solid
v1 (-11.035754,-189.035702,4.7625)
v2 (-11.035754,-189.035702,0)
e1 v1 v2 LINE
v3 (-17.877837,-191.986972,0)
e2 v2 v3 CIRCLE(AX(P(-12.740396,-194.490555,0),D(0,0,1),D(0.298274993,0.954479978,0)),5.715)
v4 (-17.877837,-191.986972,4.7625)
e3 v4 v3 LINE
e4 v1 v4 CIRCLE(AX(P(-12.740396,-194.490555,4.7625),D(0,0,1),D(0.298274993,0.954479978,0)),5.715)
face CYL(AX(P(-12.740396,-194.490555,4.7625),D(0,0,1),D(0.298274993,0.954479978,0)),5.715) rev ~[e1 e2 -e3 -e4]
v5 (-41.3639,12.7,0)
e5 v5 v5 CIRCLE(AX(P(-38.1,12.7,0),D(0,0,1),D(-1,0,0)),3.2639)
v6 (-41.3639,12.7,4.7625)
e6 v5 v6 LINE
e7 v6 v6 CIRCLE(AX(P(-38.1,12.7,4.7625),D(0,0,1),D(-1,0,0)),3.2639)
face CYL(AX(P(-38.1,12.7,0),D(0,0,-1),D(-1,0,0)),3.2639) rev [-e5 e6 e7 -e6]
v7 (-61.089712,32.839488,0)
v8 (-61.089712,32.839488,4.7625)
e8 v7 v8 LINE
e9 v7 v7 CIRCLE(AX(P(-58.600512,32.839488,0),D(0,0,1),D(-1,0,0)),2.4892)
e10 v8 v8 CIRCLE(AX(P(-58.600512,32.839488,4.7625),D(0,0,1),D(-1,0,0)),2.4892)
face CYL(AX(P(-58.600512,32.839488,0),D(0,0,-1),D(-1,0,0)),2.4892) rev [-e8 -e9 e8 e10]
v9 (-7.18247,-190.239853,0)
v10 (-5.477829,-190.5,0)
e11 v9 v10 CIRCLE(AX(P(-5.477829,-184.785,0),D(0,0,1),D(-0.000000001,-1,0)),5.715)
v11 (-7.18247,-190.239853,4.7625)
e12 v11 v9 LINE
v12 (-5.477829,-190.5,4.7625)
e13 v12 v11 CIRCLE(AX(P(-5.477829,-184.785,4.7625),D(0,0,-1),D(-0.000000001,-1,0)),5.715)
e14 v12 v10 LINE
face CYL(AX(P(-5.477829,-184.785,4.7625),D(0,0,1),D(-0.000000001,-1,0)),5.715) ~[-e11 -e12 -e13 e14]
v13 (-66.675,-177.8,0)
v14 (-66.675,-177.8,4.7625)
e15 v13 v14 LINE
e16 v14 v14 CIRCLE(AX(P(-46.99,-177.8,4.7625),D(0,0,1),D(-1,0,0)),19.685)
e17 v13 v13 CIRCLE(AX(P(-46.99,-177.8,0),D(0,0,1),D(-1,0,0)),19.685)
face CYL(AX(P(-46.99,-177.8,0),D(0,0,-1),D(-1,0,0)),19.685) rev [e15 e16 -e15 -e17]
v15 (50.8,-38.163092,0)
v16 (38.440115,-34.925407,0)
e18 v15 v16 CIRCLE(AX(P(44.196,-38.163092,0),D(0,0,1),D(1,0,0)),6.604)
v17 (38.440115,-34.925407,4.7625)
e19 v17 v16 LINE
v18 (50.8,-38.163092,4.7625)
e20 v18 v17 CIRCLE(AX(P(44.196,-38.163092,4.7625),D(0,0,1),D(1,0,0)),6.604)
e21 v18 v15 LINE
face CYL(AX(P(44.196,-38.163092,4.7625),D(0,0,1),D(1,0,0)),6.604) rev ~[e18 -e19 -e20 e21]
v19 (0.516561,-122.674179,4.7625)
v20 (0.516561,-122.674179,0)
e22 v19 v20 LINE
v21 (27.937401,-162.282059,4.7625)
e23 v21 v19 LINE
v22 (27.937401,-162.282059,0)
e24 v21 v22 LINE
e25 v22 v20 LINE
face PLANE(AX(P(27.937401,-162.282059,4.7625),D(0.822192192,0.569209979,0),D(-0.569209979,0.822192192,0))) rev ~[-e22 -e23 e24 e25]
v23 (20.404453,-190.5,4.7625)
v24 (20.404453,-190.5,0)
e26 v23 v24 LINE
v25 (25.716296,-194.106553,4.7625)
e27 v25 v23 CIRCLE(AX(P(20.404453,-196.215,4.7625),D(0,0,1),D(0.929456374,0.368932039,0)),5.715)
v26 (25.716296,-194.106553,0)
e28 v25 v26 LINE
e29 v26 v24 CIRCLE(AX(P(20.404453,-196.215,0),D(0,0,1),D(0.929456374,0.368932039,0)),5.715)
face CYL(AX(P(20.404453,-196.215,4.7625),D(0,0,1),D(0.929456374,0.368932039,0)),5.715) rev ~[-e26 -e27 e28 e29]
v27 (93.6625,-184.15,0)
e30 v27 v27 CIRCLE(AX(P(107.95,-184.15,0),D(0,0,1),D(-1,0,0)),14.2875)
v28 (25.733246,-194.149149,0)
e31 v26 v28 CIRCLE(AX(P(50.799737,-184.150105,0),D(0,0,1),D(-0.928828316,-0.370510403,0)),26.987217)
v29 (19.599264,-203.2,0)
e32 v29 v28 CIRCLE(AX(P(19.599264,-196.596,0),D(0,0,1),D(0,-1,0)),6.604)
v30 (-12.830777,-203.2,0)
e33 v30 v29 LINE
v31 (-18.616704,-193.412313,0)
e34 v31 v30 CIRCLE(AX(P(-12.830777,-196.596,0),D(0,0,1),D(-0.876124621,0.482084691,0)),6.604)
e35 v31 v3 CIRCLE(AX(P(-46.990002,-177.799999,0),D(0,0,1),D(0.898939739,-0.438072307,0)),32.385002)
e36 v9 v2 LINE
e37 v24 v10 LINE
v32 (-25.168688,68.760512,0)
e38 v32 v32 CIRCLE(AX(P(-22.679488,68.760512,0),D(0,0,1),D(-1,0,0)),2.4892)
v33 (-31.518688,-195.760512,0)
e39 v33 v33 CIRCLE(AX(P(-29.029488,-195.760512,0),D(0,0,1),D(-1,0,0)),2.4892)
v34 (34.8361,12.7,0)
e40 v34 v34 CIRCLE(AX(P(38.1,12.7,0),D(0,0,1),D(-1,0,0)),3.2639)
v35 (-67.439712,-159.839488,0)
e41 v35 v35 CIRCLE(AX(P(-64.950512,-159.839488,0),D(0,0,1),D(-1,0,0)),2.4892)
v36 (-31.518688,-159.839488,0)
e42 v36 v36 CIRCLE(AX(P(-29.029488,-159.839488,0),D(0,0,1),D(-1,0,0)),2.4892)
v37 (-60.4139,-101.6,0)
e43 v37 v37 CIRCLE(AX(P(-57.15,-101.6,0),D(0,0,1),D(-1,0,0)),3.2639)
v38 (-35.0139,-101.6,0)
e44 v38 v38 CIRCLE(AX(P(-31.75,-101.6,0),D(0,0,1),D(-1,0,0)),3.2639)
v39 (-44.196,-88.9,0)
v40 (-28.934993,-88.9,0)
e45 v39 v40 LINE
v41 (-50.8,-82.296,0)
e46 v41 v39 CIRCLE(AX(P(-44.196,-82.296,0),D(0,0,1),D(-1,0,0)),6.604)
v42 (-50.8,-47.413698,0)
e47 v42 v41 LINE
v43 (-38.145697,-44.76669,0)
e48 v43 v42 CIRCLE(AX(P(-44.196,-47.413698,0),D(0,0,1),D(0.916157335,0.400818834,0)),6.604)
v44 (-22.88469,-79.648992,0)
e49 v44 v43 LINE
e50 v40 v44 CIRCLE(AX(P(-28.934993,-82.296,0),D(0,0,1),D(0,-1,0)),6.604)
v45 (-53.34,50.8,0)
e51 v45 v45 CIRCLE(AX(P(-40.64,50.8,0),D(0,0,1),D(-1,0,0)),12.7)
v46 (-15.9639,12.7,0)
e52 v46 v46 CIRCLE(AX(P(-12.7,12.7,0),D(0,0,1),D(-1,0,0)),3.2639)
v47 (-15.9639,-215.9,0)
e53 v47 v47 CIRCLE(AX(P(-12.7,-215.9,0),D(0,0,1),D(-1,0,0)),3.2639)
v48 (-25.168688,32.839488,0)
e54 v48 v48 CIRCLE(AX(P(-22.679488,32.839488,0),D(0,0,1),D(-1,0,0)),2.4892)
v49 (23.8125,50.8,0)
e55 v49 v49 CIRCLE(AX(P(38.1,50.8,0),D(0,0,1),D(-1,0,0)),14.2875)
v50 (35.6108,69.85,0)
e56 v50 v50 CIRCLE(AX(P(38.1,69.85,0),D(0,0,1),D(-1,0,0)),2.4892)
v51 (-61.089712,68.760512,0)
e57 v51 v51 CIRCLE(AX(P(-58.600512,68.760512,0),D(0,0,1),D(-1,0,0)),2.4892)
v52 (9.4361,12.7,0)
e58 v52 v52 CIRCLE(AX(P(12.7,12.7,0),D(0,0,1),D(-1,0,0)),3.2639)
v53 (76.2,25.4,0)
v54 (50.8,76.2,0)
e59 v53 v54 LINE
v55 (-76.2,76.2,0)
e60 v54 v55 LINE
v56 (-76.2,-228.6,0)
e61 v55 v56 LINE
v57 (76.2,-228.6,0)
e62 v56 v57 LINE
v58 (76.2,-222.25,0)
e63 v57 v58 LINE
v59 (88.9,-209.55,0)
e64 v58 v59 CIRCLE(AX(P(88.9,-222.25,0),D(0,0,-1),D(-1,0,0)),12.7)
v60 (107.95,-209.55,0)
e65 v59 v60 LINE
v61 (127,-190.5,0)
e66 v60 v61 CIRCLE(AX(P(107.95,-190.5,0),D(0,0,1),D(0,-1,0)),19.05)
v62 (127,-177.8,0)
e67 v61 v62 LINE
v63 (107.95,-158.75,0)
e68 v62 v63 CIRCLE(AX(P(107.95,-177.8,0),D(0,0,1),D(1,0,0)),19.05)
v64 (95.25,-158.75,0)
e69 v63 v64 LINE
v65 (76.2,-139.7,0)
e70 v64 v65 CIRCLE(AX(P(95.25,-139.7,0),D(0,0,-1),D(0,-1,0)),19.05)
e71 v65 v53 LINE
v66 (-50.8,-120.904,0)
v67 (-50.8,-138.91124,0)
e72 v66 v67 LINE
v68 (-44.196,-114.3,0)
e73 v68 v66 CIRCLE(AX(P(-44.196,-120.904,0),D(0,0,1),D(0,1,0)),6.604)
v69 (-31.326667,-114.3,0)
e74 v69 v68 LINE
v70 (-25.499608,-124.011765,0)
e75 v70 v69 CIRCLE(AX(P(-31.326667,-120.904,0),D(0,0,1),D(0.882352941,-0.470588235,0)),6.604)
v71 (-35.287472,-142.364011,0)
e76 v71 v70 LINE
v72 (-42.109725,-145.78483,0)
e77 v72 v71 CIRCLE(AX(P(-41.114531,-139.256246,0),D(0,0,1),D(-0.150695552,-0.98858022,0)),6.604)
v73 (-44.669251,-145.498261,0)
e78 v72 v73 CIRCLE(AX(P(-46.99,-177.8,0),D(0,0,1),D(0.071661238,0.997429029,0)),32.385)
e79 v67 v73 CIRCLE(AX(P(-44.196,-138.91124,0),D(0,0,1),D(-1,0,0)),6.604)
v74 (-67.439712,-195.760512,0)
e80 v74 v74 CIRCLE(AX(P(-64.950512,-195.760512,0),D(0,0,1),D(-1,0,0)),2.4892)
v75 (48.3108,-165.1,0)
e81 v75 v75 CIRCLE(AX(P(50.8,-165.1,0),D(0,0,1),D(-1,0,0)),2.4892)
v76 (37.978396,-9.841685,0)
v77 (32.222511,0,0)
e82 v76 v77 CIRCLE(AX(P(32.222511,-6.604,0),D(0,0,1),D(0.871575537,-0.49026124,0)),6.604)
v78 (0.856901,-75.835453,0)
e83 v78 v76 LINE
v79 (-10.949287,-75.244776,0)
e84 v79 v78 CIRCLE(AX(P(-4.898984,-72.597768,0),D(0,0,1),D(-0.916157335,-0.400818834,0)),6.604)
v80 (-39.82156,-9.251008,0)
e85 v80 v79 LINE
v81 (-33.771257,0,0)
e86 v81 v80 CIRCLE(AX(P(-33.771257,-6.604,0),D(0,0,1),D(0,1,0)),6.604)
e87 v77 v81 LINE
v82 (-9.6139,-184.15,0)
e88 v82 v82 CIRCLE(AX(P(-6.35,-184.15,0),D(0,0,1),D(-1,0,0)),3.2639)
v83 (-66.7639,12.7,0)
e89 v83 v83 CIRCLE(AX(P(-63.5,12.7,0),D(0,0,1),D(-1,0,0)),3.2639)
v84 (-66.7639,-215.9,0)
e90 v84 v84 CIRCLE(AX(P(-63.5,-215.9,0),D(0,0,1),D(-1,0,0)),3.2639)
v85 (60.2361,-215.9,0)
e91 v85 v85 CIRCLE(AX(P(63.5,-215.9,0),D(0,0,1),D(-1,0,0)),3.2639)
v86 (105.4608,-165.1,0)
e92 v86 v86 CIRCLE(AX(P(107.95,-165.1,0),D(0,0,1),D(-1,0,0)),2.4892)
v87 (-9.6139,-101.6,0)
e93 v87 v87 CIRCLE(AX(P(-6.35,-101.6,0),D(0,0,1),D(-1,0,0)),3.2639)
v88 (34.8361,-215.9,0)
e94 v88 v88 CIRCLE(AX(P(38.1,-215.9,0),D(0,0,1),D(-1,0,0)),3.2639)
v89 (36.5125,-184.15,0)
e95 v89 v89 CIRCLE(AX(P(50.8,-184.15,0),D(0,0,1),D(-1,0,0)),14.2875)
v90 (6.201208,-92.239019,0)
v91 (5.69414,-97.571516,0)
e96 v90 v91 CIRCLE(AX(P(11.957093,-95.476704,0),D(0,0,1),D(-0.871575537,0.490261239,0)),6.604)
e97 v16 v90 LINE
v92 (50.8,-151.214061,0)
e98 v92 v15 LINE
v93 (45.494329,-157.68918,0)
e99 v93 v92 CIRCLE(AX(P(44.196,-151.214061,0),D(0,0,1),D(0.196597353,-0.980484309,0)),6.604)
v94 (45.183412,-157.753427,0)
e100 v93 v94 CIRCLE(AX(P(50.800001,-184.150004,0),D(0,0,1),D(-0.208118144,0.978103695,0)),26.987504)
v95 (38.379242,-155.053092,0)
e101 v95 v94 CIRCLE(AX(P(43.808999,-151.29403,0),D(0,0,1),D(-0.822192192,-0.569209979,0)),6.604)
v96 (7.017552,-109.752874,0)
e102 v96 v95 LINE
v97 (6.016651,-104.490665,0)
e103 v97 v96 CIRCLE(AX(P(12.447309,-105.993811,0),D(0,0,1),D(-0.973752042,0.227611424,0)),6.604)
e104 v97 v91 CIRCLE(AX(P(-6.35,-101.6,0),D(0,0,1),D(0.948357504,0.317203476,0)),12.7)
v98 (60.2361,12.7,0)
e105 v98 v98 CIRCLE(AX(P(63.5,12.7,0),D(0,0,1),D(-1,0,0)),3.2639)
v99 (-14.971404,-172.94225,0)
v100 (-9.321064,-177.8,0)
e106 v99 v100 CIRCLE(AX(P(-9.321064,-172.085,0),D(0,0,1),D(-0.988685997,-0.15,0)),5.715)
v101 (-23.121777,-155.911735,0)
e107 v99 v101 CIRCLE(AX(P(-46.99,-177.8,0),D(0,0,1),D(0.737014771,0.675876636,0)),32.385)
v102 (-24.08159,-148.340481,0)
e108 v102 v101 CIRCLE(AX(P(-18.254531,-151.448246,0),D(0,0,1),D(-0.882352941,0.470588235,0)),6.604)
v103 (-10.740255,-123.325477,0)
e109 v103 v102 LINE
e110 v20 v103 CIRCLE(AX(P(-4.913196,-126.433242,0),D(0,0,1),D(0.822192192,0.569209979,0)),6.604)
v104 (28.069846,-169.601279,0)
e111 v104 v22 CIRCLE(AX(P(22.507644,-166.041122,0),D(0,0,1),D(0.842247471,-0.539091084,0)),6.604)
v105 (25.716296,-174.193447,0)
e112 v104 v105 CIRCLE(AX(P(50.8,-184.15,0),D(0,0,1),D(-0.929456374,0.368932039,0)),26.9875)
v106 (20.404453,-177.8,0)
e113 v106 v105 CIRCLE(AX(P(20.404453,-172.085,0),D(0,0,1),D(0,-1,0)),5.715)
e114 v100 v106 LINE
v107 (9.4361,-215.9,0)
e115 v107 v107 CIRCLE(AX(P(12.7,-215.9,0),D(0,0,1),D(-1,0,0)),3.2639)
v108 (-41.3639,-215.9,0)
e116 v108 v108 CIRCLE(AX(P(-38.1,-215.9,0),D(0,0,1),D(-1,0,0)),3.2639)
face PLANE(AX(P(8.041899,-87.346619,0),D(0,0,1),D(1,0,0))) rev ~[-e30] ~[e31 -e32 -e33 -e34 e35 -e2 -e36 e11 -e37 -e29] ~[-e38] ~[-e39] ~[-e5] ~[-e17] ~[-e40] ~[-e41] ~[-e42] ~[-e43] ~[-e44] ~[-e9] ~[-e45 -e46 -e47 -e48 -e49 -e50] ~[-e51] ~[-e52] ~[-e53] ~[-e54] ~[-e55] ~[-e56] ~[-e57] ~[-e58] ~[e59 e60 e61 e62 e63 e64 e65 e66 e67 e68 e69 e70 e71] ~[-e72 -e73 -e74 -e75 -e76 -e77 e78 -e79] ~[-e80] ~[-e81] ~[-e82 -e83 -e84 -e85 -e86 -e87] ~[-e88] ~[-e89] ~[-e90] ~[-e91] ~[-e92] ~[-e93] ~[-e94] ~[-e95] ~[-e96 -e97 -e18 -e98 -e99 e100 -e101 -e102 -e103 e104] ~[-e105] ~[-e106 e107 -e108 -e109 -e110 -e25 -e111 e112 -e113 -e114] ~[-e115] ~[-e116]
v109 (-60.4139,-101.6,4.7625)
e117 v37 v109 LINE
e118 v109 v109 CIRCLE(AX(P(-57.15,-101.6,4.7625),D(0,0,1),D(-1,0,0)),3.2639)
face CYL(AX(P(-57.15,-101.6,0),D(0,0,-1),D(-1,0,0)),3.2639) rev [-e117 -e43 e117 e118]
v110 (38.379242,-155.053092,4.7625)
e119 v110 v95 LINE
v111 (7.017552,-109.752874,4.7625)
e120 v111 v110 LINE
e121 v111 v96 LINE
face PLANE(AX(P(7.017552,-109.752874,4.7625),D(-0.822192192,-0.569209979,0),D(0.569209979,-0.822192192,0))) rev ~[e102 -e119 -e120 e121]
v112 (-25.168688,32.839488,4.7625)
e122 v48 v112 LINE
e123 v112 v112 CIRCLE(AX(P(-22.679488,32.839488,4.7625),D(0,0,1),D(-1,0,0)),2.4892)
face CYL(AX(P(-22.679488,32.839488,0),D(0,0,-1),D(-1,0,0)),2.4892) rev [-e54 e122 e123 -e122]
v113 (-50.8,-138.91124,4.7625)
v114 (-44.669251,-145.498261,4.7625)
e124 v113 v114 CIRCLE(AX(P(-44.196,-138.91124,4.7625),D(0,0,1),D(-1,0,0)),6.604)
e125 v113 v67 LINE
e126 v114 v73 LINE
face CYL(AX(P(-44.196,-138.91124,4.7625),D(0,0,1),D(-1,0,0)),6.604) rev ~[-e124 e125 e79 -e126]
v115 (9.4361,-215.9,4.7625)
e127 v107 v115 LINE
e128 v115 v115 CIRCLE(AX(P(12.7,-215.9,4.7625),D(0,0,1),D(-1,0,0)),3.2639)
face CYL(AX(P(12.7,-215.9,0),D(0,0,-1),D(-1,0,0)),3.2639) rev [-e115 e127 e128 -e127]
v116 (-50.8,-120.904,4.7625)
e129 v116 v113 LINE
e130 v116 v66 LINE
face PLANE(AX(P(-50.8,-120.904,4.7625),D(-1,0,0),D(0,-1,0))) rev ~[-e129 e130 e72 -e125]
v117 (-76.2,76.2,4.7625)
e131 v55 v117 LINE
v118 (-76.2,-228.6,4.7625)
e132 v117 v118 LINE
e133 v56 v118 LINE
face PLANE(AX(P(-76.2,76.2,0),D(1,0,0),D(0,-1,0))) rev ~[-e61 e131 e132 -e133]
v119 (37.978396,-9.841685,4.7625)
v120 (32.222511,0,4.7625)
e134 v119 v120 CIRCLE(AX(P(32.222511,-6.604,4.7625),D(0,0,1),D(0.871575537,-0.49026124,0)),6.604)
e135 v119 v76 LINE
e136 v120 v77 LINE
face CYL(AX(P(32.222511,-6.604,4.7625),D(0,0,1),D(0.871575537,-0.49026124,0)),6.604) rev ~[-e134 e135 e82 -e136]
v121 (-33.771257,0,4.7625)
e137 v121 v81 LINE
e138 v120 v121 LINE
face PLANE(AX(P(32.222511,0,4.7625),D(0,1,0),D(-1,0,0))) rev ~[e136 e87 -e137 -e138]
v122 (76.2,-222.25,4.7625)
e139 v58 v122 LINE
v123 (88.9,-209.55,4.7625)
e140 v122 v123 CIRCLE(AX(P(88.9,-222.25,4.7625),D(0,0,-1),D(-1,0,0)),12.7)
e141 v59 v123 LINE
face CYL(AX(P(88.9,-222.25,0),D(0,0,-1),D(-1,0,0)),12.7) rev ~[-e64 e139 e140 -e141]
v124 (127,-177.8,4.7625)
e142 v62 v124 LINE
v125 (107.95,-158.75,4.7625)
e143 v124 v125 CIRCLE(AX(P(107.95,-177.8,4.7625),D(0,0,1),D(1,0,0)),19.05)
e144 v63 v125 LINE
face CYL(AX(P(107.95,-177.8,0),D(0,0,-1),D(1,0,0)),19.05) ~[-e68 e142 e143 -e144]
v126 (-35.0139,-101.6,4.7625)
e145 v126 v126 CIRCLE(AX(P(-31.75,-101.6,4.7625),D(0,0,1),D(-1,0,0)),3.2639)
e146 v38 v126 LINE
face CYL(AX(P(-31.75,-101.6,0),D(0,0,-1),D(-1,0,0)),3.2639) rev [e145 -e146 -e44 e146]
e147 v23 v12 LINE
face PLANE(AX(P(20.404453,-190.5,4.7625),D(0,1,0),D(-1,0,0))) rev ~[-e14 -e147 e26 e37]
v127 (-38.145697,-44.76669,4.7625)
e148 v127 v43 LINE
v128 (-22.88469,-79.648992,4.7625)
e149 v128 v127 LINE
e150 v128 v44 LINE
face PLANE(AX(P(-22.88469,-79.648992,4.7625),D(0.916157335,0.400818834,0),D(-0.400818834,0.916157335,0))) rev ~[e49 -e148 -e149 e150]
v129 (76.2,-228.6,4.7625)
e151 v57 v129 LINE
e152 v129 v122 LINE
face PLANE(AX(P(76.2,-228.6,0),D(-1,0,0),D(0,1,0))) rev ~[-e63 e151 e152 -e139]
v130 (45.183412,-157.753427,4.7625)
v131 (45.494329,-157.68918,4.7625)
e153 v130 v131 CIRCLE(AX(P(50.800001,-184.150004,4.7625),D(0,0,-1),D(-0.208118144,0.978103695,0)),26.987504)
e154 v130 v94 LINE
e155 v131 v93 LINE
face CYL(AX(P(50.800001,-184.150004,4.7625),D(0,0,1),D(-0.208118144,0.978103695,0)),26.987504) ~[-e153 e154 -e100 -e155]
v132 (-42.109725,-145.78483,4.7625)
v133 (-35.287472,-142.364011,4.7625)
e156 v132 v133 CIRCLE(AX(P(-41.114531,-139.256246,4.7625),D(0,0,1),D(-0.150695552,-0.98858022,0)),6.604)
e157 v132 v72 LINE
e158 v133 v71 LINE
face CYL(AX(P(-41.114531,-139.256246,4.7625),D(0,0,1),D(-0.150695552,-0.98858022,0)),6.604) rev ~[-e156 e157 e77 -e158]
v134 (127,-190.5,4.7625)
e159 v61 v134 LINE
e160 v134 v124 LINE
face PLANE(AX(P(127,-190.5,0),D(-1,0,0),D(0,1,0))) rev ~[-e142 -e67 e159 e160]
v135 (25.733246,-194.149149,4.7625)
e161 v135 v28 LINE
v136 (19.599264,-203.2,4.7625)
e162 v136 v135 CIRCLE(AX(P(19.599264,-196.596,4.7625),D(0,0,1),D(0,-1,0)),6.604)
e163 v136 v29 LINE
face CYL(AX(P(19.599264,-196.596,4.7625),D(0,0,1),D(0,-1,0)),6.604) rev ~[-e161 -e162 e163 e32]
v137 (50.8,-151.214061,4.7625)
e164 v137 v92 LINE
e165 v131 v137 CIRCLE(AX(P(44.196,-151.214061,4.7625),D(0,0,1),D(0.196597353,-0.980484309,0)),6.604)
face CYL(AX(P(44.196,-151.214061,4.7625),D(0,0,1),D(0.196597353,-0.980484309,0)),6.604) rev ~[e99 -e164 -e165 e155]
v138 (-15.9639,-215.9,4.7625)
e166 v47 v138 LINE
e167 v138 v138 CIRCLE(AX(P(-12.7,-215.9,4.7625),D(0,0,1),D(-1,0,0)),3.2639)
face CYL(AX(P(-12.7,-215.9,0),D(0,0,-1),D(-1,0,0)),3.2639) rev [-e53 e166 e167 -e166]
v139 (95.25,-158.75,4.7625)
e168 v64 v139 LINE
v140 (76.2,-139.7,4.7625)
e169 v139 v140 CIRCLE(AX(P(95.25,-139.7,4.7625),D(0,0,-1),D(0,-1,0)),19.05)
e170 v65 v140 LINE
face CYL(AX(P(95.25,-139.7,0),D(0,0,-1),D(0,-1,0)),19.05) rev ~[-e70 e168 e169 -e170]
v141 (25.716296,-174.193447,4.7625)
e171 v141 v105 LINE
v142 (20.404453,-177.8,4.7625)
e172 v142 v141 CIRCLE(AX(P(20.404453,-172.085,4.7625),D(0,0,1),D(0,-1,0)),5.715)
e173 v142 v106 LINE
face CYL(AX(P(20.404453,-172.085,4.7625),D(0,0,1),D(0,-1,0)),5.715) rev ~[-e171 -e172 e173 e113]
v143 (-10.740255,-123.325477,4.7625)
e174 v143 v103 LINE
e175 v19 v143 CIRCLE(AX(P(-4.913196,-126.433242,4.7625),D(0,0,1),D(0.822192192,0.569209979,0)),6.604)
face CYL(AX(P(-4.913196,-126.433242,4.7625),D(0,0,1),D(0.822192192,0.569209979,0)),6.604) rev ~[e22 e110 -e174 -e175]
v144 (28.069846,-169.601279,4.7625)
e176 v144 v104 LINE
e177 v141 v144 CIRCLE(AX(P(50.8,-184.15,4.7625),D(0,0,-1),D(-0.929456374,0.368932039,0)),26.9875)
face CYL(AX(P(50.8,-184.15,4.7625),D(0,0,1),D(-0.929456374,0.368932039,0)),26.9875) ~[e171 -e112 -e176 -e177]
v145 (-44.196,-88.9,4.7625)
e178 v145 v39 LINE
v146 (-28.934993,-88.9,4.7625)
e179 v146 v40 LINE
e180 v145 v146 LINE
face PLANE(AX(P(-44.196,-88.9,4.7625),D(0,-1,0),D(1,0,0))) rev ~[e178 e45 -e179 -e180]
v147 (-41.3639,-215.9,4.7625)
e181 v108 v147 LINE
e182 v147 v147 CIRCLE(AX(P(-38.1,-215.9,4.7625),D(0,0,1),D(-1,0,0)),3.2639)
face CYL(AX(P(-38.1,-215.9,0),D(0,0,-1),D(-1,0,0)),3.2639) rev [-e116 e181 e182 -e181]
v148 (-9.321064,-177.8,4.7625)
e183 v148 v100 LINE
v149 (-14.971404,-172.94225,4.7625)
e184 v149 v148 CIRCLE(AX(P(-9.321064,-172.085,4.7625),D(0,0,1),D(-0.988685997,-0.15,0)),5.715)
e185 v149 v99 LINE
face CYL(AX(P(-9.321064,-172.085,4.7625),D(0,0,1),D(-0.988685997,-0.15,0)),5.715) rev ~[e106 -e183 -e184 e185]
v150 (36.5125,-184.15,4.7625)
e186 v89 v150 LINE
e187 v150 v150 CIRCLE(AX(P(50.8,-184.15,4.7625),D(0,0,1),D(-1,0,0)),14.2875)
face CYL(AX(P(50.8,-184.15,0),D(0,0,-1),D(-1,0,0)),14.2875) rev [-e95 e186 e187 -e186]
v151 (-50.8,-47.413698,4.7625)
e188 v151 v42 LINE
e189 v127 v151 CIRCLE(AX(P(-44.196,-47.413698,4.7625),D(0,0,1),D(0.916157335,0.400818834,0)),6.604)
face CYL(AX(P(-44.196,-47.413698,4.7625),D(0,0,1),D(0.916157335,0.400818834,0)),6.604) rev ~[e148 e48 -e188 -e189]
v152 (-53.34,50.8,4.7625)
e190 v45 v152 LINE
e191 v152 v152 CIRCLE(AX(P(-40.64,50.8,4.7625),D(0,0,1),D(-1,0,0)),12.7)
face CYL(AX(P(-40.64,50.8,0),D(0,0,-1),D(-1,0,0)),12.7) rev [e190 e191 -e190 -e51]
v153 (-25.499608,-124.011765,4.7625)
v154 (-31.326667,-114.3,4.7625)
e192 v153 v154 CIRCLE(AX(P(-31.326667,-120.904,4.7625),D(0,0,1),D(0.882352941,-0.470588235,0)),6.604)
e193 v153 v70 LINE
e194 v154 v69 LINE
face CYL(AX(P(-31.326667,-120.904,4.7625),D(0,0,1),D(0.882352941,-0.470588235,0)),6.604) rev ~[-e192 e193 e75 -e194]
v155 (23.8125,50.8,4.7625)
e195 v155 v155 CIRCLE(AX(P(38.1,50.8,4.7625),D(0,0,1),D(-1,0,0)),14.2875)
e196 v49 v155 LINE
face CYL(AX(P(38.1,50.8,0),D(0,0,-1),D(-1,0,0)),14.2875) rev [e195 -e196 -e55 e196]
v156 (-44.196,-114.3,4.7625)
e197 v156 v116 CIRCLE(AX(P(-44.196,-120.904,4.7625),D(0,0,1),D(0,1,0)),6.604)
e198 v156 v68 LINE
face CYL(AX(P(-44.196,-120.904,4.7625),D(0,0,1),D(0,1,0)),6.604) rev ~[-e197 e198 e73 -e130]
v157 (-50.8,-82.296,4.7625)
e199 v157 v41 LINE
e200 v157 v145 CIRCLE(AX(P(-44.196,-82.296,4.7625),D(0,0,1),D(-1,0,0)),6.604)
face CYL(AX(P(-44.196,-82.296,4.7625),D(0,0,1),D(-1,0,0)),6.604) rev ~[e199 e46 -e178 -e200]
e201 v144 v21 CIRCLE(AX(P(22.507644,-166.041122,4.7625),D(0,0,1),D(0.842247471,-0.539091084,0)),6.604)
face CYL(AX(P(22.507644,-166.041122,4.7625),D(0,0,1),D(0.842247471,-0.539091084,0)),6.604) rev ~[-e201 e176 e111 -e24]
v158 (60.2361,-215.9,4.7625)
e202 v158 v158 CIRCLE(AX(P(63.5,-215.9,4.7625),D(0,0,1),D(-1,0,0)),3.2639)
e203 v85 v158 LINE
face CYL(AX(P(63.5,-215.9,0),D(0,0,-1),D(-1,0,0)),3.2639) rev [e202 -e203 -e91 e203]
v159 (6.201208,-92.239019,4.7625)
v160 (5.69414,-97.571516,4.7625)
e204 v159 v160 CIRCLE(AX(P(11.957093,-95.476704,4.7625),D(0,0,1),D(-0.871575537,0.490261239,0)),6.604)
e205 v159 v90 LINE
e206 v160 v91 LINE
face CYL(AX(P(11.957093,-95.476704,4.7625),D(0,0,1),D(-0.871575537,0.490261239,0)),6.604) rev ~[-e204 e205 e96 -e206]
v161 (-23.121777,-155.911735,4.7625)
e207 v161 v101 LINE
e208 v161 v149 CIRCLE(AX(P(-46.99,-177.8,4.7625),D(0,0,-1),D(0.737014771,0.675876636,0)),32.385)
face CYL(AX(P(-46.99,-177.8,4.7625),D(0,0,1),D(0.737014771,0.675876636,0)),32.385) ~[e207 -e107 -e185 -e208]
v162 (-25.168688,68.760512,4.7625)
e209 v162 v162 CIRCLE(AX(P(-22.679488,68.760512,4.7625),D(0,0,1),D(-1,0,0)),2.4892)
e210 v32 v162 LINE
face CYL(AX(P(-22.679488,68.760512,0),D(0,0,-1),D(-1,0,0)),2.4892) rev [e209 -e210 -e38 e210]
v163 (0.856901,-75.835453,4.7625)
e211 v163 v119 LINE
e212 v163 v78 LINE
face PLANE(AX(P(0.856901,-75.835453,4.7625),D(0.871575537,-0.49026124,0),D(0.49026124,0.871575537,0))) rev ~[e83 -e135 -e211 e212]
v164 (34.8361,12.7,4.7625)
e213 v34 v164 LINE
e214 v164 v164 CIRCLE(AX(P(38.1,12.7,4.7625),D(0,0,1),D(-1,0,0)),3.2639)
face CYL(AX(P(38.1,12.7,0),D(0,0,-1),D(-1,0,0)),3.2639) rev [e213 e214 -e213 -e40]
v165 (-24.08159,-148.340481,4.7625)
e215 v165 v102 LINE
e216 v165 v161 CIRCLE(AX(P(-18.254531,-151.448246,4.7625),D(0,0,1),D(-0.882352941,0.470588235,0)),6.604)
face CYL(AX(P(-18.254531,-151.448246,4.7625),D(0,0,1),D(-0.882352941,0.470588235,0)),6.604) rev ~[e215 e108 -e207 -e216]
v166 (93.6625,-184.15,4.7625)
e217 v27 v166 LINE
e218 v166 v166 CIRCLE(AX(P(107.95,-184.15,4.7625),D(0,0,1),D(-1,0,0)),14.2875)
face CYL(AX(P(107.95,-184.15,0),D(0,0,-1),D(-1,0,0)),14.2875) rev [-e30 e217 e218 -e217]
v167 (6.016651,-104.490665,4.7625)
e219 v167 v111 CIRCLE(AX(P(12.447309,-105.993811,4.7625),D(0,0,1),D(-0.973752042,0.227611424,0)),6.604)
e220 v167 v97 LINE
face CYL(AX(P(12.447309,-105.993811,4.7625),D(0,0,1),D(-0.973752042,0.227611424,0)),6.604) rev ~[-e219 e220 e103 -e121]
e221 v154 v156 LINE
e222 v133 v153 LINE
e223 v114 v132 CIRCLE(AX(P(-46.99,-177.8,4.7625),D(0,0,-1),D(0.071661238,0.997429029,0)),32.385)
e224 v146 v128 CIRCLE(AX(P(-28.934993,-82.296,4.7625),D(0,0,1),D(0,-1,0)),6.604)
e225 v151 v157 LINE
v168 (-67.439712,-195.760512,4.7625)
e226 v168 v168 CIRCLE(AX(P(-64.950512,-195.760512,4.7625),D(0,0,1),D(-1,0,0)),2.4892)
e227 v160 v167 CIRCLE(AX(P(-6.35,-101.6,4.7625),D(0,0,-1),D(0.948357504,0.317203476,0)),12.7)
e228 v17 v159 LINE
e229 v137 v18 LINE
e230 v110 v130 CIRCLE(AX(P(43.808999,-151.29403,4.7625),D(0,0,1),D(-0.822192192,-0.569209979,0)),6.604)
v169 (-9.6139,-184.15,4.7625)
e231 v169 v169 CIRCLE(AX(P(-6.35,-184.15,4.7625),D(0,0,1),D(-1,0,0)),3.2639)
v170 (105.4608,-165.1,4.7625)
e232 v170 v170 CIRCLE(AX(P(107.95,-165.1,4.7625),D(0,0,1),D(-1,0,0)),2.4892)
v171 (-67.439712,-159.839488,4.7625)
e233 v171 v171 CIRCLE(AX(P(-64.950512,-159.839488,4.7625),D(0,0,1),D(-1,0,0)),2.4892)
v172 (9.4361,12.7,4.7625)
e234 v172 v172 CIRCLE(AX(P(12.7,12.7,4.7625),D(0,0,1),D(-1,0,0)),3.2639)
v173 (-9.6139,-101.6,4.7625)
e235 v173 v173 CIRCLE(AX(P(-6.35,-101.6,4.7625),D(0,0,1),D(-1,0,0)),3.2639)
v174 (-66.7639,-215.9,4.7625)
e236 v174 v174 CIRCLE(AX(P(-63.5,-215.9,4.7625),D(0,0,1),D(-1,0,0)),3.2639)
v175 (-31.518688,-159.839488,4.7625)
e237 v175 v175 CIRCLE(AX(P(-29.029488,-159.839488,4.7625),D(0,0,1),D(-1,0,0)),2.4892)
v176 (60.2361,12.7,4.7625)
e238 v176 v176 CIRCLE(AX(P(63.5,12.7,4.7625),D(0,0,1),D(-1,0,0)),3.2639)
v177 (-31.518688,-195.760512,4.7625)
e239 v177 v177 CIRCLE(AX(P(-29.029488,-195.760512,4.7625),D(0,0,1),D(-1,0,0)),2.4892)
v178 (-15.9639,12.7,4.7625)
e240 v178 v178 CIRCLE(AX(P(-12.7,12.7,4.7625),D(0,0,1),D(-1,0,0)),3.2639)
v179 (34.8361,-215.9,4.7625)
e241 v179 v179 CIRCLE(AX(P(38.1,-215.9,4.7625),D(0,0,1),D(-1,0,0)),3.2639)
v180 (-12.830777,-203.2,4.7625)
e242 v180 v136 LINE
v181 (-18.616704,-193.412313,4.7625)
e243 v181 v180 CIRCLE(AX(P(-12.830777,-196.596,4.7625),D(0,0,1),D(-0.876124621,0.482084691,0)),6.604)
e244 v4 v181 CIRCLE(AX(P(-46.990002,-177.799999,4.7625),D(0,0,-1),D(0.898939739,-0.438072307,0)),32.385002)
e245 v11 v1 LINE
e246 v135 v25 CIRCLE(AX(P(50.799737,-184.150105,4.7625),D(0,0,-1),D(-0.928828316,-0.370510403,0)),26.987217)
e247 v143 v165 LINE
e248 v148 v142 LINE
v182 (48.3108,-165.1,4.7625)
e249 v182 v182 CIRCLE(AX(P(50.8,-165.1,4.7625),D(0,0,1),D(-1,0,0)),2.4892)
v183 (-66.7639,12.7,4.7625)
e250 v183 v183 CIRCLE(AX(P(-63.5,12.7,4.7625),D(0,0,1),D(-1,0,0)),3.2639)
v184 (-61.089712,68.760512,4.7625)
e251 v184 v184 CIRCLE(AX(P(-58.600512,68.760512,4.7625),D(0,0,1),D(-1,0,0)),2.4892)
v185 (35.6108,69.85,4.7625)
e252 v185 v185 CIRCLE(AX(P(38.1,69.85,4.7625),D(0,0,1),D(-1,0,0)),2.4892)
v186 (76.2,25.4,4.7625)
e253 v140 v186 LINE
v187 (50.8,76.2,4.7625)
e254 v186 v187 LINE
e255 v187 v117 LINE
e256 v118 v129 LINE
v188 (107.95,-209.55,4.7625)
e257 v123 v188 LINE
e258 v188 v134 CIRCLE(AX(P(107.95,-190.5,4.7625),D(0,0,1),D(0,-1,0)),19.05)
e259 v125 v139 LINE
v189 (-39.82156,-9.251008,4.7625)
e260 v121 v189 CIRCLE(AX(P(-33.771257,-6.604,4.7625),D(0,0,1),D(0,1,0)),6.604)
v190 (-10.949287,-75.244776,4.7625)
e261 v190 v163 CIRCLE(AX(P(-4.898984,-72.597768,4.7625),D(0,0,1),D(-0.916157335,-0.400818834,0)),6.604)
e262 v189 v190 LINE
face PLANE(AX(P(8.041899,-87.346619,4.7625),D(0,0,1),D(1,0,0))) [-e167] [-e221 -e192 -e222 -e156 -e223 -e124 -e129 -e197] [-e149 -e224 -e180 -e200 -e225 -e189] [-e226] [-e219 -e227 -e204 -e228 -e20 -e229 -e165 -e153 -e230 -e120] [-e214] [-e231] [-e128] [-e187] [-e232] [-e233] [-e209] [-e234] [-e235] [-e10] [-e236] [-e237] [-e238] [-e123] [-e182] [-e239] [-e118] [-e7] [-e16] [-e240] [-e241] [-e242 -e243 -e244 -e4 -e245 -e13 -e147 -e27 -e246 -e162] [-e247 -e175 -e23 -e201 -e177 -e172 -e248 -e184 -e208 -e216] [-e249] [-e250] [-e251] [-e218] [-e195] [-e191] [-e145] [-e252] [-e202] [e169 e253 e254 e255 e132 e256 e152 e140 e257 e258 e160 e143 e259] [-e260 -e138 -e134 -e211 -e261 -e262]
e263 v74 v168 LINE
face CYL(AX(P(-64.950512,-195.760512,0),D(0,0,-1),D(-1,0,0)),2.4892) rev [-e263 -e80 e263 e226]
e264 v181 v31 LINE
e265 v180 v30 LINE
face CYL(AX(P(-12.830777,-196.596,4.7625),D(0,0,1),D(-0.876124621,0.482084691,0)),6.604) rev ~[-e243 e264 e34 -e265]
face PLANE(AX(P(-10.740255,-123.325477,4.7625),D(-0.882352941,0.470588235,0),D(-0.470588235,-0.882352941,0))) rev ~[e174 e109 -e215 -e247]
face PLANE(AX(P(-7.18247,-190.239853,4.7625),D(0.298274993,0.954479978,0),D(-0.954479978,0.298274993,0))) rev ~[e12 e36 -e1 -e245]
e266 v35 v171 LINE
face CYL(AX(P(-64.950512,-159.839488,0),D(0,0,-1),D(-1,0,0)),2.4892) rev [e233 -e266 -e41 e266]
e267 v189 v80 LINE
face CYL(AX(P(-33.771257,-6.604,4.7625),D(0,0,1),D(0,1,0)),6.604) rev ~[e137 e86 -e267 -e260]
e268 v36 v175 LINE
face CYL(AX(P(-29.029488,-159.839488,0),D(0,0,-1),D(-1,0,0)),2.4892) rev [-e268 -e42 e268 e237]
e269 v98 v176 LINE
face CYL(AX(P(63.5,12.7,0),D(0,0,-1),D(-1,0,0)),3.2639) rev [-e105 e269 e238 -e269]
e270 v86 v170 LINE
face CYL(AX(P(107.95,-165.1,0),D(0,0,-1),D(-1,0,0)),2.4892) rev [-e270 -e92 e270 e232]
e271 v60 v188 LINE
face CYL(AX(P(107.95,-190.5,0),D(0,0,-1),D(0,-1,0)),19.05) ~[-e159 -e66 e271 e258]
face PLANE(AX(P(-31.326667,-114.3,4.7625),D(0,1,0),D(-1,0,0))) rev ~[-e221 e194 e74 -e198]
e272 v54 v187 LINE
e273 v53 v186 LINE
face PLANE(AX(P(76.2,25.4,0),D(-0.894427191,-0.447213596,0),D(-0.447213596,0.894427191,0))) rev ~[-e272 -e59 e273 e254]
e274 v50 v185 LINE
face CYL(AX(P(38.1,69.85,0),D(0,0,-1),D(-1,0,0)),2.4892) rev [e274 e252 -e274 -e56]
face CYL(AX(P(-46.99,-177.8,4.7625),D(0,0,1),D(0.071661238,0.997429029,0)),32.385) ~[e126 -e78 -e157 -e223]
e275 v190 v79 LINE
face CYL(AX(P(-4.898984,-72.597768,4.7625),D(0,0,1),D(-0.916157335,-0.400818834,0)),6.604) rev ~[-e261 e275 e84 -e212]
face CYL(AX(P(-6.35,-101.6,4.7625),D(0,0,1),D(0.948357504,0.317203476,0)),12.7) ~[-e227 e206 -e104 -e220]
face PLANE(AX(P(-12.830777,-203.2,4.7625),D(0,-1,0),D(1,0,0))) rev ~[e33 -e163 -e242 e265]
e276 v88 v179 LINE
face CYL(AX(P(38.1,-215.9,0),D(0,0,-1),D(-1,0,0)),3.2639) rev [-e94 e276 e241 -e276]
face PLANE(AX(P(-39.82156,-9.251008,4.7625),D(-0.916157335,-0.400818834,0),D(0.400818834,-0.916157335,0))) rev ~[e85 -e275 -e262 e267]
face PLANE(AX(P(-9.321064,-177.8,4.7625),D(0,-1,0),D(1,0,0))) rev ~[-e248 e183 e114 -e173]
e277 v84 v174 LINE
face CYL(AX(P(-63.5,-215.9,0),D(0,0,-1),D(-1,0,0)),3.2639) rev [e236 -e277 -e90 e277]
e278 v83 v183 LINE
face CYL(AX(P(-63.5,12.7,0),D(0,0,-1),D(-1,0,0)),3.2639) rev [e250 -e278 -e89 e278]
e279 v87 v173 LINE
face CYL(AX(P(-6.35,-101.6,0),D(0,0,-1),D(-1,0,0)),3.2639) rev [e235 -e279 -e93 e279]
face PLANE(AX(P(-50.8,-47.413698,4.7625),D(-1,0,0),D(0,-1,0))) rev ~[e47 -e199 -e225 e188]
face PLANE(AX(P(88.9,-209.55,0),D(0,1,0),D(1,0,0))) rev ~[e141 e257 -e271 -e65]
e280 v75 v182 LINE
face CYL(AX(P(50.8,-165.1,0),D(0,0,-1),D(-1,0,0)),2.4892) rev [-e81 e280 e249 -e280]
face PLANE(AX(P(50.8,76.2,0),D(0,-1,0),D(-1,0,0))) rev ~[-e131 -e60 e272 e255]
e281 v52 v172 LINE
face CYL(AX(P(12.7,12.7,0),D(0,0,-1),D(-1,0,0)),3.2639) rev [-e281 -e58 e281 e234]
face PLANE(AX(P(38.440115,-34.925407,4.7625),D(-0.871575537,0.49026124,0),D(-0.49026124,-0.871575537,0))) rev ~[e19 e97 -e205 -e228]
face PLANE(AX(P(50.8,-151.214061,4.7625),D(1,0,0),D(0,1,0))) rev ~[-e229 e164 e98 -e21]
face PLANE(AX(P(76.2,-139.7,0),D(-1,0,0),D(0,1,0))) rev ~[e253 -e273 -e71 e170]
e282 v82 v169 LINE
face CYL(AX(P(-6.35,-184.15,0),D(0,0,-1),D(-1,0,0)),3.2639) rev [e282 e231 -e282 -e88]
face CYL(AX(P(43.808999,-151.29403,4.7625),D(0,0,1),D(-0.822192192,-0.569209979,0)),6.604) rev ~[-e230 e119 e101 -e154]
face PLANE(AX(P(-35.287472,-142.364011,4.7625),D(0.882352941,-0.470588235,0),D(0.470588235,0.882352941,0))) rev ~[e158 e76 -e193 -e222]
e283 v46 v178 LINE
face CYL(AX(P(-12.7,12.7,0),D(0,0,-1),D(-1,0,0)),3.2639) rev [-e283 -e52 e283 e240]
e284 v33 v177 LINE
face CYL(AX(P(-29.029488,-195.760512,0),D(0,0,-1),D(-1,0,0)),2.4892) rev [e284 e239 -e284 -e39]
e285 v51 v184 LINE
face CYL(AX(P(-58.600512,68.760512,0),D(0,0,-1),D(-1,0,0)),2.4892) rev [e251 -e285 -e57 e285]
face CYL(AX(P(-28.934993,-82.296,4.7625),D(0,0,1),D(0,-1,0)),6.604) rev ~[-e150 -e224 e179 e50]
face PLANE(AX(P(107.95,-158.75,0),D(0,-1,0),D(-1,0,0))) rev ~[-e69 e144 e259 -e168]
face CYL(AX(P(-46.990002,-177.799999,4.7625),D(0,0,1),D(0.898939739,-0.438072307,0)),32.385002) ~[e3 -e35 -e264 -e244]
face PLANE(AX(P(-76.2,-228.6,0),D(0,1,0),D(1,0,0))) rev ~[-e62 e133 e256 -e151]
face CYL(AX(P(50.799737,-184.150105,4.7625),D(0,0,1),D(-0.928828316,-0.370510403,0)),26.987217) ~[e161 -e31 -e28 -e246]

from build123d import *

# Parameters (mm, degrees)
SKETCH1_R           = 3.2639
SKETCH1_R_2         = 14.2875
SKETCH1_R_3         = 2.4892
SKETCH1_R_4         = 12.7
SKETCH1_R_5         = 19.685
BOSS_EXTRUDE1_DEPTH = 4.7625
CUT_EXTRUDE1_DEPTH  = 262.552368382


with BuildPart() as part:
    # Sketch1 → Boss-Extrude1 (new body)
    with BuildSketch(Plane.XY):
        with BuildLine():
            Line((76.2, 0), (76.2, 25.4))
            Line((76.2, 25.4), (50.8, 76.2))
            Line((50.8, 76.2), (12.7, 76.2))
            Line((12.7, 76.2), (-76.2, 76.2))
            Line((-76.2, 76.2), (-76.2, 0))
            Line((-76.2, 0), (-76.2, -228.6))
            Line((-76.2, -228.6), (0, -228.6))
            Line((0, -228.6), (76.2, -228.6))
            Line((76.2, -228.6), (76.2, -222.25))
            ThreePointArc((76.2, -222.25), (79.919743879, -213.269743879), (88.9, -209.55))
            Line((88.9, -209.55), (107.95, -209.55))
            ThreePointArc((107.95, -209.55), (121.420384182, -203.970384182), (127, -190.5))
            Line((127, -190.5), (127, -177.8))
            ThreePointArc((127, -177.8), (121.420384182, -164.329615818), (107.95, -158.75))
            Line((107.95, -158.75), (95.25, -158.75))
            ThreePointArc((95.25, -158.75), (81.779615818, -153.170384182), (76.2, -139.7))
            Line((76.2, -139.7), (76.2, 0))
        make_face()
        with Locations(Location((-38.1, 12.7, 0), (0, 0, 180))):
            Circle(SKETCH1_R, mode=Mode.SUBTRACT)
        with Locations(Location((-12.7, 12.7, 0), (0, 0, 180))):
            Circle(SKETCH1_R, mode=Mode.SUBTRACT)
        with Locations(Location((-63.5, 12.7, 0), (0, 0, 180))):
            Circle(SKETCH1_R, mode=Mode.SUBTRACT)
        with Locations(Location((12.7, 12.7, 0), (0, 0, 180))):
            Circle(SKETCH1_R, mode=Mode.SUBTRACT)
        with Locations(Location((38.1, 12.7, 0), (0, 0, 180))):
            Circle(SKETCH1_R, mode=Mode.SUBTRACT)
        with Locations(Location((38.1, 50.8, 0), (0, 0, 180))):
            Circle(SKETCH1_R_2, mode=Mode.SUBTRACT)
        with Locations(Location((-22.679487758, 32.839487758, 0), (0, 0, 180))):
            Circle(SKETCH1_R_3, mode=Mode.SUBTRACT)
        with Locations(Location((-58.600512242, 32.839487758, 0), (0, 0, 180))):
            Circle(SKETCH1_R_3, mode=Mode.SUBTRACT)
        with Locations(Location((-58.600512242, 68.760512242, 0), (0, 0, 180))):
            Circle(SKETCH1_R_3, mode=Mode.SUBTRACT)
        with Locations(Location((-22.679487758, 68.760512242, 0), (0, 0, 180))):
            Circle(SKETCH1_R_3, mode=Mode.SUBTRACT)
        with Locations(Location((63.5, 12.7, 0), (0, 0, 180))):
            Circle(SKETCH1_R, mode=Mode.SUBTRACT)
        with Locations(Location((-40.64, 50.8, 0), (0, 0, 180))):
            Circle(SKETCH1_R_4, mode=Mode.SUBTRACT)
        with Locations(Location((50.8, -184.15, 0), (0, 0, 180))):
            Circle(SKETCH1_R_2, mode=Mode.SUBTRACT)
        with Locations(Location((63.5, -215.9, 0), (0, 0, 180))):
            Circle(SKETCH1_R, mode=Mode.SUBTRACT)
        with Locations(Location((38.1, -215.9, 0), (0, 0, 180))):
            Circle(SKETCH1_R, mode=Mode.SUBTRACT)
        with Locations(Location((12.7, -215.9, 0), (0, 0, 180))):
            Circle(SKETCH1_R, mode=Mode.SUBTRACT)
        with Locations(Location((50.8, -165.1, 0), (0, 0, 180))):
            Circle(SKETCH1_R_3, mode=Mode.SUBTRACT)
        with Locations(Location((38.1, 69.85, 0), (0, 0, 180))):
            Circle(SKETCH1_R_3, mode=Mode.SUBTRACT)
        with Locations(Location((-6.35, -184.15, 0), (0, 0, 180))):
            Circle(SKETCH1_R, mode=Mode.SUBTRACT)
        with Locations(Location((107.95, -184.15, 0), (0, 0, 180))):
            Circle(SKETCH1_R_2, mode=Mode.SUBTRACT)
        with Locations(Location((107.95, -165.1, 0), (0, 0, 180))):
            Circle(SKETCH1_R_3, mode=Mode.SUBTRACT)
        with Locations(Location((-57.15, -101.6, 0), (0, 0, 180))):
            Circle(SKETCH1_R, mode=Mode.SUBTRACT)
        with Locations(Location((-31.75, -101.6, 0), (0, 0, 180))):
            Circle(SKETCH1_R, mode=Mode.SUBTRACT)
        with Locations(Location((-6.35, -101.6, 0), (0, 0, 180))):
            Circle(SKETCH1_R, mode=Mode.SUBTRACT)
        with Locations(Location((-46.99, -177.8, 0), (0, 0, 180))):
            Circle(SKETCH1_R_5, mode=Mode.SUBTRACT)
        with Locations(Location((-29.029487758, -195.760512242, 0), (0, 0, 180))):
            Circle(SKETCH1_R_3, mode=Mode.SUBTRACT)
        with Locations(Location((-64.950512242, -195.760512242, 0), (0, 0, 180))):
            Circle(SKETCH1_R_3, mode=Mode.SUBTRACT)
        with Locations(Location((-64.950512242, -159.839487758, 0), (0, 0, 180))):
            Circle(SKETCH1_R_3, mode=Mode.SUBTRACT)
        with Locations(Location((-29.029487758, -159.839487758, 0), (0, 0, 180))):
            Circle(SKETCH1_R_3, mode=Mode.SUBTRACT)
        with Locations(Location((-12.7, -215.9, 0), (0, 0, 180))):
            Circle(SKETCH1_R, mode=Mode.SUBTRACT)
        with Locations(Location((-38.1, -215.9, 0), (0, 0, 180))):
            Circle(SKETCH1_R, mode=Mode.SUBTRACT)
        with Locations(Location((-63.5, -215.9, 0), (0, 0, 180))):
            Circle(SKETCH1_R, mode=Mode.SUBTRACT)
    extrude(amount=BOSS_EXTRUDE1_DEPTH)

    # Sketch2 → Cut-Extrude1 (cut, through all)
    with BuildSketch(Plane.XY.offset(4.7625)):
        with BuildLine():
            Line((-12.83077716, -203.2), (19.59926353, -203.2))
            ThreePointArc((19.59926353, -203.2), (25.066064138, -200.300984091), (25.733245747, -194.149149338))
            ThreePointArc((25.733245747, -194.149149338), (25.724761885, -194.127854967), (25.716296113, -194.106553398))
            ThreePointArc((25.716296113, -194.106553398), (23.61470625, -191.486839822), (20.404452937, -190.5))
            Line((20.404452937, -190.5), (-5.477828576, -190.5))
            ThreePointArc((-5.477828576, -190.5), (-6.340017557, -190.434588937), (-7.182470162, -190.239853074))
            Line((-7.182470162, -190.239853074), (-11.035754343, -189.035701768))
            ThreePointArc((-11.035754343, -189.035701768), (-15.003916575, -189.242917347), (-17.877836539, -191.986971616))
            ThreePointArc((-17.877836539, -191.986971616), (-18.23843644, -192.704221477), (-18.616704156, -193.412312704))
            ThreePointArc((-18.616704156, -193.412312704), (-18.515752398, -199.956635736), (-12.83077716, -203.2))
        make_face()
        with BuildLine():
            ThreePointArc((37.978395534, -9.841685227), (37.923146144, -3.269997693), (32.222510687, 0))
            Line((32.222510687, 0), (-33.771257244, 0))
            ThreePointArc((-33.771257244, 0), (-39.298175647, -2.989309284), (-39.821560284, -9.25100758))
            Line((-39.821560284, -9.25100758), (-10.949286814, -75.244775511))
            ThreePointArc((-10.949286814, -75.244775511), (-5.228977015, -79.193518113), (0.856901073, -75.835453158))
            Line((0.856901073, -75.835453158), (37.978395534, -9.841685227))
        make_face()
        with BuildLine():
            ThreePointArc((6.016650935, -104.490665089), (5.959623011, -107.227804875), (7.017552187, -109.752873636))
            Line((7.017552187, -109.752873636), (38.379242123, -155.053092432))
            ThreePointArc((38.379242123, -155.053092432), (41.372935554, -157.43230385), (45.183411581, -157.753426533))
            ThreePointArc((45.183411581, -157.753426533), (45.338775775, -157.720845904), (45.494328922, -157.689179705))
            ThreePointArc((45.494328922, -157.689179705), (49.304178746, -155.399670709), (50.8, -151.214061327))
            Line((50.8, -151.214061327), (50.8, -38.163092112))
            ThreePointArc((50.8, -38.163092112), (45.869462349, -31.774638484), (38.440115153, -34.925406886))
            Line((38.440115153, -34.925406886), (6.201208406, -92.239018879))
            ThreePointArc((6.201208406, -92.239018879), (5.382749443, -94.851548557), (5.694140298, -97.571515859))
            ThreePointArc((5.694140298, -97.571515859), (6.336226337, -101.008678323), (6.016650935, -104.490665089))
        make_face()
        with BuildLine():
            ThreePointArc((28.069846358, -169.60127938), (29.110563089, -165.921638634), (27.937401289, -162.282059163))
            Line((27.937401289, -162.282059163), (0.51656145, -122.674179395))
            ThreePointArc((0.51656145, -122.674179395), (-5.294652738, -119.840268063), (-10.740254608, -123.325477389))
            Line((-10.740254608, -123.325477389), (-24.081589928, -148.340481115))
            ThreePointArc((-24.081589928, -148.340481115), (-24.806096438, -152.278792436), (-23.12177665, -155.911735128))
            ThreePointArc((-23.12177665, -155.911735128), (-17.777951912, -163.819854383), (-14.971403998, -172.94225))
            ThreePointArc((-14.971403998, -172.94225), (-13.046787702, -176.418613316), (-9.321063527, -177.8))
            Line((-9.321063527, -177.8), (20.404452937, -177.8))
            ThreePointArc((20.404452937, -177.8), (23.61470625, -176.813160178), (25.716296113, -174.193446602))
            ThreePointArc((25.716296113, -174.193446602), (26.783063416, -171.840982437), (28.069846358, -169.60127938))
        make_face()
        with BuildLine():
            ThreePointArc((-42.109724533, -145.78482959), (-38.154424423, -145.159684177), (-35.287472281, -142.364010526))
            Line((-35.287472281, -142.364010526), (-25.499607843, -124.011764706))
            ThreePointArc((-25.499607843, -124.011764706), (-25.663783385, -117.506270031), (-31.326666667, -114.3))
            Line((-31.326666667, -114.3), (-44.196, -114.3))
            ThreePointArc((-44.196, -114.3), (-48.865733183, -116.234266817), (-50.8, -120.904))
            Line((-50.8, -120.904), (-50.8, -138.911239606))
            ThreePointArc((-50.8, -138.911239606), (-49.030157857, -143.410543309), (-44.669250814, -145.49826091))
            ThreePointArc((-44.669250814, -145.49826091), (-43.386637762, -145.61609089), (-42.109724533, -145.78482959))
        make_face()
        with BuildLine():
            ThreePointArc((-28.934992756, -88.9), (-23.408074353, -85.910690716), (-22.884689716, -79.64899242))
            Line((-22.884689716, -79.64899242), (-38.14569696, -44.766690148))
            ThreePointArc((-38.14569696, -44.766690148), (-45.548149164, -40.949603929), (-50.8, -47.413697727))
            Line((-50.8, -47.413697727), (-50.8, -82.296))
            ThreePointArc((-50.8, -82.296), (-48.865733183, -86.965733183), (-44.196, -88.9))
            Line((-44.196, -88.9), (-28.934992756, -88.9))
        make_face()
    extrude(amount=-CUT_EXTRUDE1_DEPTH, mode=Mode.SUBTRACT)


solid = part.part
